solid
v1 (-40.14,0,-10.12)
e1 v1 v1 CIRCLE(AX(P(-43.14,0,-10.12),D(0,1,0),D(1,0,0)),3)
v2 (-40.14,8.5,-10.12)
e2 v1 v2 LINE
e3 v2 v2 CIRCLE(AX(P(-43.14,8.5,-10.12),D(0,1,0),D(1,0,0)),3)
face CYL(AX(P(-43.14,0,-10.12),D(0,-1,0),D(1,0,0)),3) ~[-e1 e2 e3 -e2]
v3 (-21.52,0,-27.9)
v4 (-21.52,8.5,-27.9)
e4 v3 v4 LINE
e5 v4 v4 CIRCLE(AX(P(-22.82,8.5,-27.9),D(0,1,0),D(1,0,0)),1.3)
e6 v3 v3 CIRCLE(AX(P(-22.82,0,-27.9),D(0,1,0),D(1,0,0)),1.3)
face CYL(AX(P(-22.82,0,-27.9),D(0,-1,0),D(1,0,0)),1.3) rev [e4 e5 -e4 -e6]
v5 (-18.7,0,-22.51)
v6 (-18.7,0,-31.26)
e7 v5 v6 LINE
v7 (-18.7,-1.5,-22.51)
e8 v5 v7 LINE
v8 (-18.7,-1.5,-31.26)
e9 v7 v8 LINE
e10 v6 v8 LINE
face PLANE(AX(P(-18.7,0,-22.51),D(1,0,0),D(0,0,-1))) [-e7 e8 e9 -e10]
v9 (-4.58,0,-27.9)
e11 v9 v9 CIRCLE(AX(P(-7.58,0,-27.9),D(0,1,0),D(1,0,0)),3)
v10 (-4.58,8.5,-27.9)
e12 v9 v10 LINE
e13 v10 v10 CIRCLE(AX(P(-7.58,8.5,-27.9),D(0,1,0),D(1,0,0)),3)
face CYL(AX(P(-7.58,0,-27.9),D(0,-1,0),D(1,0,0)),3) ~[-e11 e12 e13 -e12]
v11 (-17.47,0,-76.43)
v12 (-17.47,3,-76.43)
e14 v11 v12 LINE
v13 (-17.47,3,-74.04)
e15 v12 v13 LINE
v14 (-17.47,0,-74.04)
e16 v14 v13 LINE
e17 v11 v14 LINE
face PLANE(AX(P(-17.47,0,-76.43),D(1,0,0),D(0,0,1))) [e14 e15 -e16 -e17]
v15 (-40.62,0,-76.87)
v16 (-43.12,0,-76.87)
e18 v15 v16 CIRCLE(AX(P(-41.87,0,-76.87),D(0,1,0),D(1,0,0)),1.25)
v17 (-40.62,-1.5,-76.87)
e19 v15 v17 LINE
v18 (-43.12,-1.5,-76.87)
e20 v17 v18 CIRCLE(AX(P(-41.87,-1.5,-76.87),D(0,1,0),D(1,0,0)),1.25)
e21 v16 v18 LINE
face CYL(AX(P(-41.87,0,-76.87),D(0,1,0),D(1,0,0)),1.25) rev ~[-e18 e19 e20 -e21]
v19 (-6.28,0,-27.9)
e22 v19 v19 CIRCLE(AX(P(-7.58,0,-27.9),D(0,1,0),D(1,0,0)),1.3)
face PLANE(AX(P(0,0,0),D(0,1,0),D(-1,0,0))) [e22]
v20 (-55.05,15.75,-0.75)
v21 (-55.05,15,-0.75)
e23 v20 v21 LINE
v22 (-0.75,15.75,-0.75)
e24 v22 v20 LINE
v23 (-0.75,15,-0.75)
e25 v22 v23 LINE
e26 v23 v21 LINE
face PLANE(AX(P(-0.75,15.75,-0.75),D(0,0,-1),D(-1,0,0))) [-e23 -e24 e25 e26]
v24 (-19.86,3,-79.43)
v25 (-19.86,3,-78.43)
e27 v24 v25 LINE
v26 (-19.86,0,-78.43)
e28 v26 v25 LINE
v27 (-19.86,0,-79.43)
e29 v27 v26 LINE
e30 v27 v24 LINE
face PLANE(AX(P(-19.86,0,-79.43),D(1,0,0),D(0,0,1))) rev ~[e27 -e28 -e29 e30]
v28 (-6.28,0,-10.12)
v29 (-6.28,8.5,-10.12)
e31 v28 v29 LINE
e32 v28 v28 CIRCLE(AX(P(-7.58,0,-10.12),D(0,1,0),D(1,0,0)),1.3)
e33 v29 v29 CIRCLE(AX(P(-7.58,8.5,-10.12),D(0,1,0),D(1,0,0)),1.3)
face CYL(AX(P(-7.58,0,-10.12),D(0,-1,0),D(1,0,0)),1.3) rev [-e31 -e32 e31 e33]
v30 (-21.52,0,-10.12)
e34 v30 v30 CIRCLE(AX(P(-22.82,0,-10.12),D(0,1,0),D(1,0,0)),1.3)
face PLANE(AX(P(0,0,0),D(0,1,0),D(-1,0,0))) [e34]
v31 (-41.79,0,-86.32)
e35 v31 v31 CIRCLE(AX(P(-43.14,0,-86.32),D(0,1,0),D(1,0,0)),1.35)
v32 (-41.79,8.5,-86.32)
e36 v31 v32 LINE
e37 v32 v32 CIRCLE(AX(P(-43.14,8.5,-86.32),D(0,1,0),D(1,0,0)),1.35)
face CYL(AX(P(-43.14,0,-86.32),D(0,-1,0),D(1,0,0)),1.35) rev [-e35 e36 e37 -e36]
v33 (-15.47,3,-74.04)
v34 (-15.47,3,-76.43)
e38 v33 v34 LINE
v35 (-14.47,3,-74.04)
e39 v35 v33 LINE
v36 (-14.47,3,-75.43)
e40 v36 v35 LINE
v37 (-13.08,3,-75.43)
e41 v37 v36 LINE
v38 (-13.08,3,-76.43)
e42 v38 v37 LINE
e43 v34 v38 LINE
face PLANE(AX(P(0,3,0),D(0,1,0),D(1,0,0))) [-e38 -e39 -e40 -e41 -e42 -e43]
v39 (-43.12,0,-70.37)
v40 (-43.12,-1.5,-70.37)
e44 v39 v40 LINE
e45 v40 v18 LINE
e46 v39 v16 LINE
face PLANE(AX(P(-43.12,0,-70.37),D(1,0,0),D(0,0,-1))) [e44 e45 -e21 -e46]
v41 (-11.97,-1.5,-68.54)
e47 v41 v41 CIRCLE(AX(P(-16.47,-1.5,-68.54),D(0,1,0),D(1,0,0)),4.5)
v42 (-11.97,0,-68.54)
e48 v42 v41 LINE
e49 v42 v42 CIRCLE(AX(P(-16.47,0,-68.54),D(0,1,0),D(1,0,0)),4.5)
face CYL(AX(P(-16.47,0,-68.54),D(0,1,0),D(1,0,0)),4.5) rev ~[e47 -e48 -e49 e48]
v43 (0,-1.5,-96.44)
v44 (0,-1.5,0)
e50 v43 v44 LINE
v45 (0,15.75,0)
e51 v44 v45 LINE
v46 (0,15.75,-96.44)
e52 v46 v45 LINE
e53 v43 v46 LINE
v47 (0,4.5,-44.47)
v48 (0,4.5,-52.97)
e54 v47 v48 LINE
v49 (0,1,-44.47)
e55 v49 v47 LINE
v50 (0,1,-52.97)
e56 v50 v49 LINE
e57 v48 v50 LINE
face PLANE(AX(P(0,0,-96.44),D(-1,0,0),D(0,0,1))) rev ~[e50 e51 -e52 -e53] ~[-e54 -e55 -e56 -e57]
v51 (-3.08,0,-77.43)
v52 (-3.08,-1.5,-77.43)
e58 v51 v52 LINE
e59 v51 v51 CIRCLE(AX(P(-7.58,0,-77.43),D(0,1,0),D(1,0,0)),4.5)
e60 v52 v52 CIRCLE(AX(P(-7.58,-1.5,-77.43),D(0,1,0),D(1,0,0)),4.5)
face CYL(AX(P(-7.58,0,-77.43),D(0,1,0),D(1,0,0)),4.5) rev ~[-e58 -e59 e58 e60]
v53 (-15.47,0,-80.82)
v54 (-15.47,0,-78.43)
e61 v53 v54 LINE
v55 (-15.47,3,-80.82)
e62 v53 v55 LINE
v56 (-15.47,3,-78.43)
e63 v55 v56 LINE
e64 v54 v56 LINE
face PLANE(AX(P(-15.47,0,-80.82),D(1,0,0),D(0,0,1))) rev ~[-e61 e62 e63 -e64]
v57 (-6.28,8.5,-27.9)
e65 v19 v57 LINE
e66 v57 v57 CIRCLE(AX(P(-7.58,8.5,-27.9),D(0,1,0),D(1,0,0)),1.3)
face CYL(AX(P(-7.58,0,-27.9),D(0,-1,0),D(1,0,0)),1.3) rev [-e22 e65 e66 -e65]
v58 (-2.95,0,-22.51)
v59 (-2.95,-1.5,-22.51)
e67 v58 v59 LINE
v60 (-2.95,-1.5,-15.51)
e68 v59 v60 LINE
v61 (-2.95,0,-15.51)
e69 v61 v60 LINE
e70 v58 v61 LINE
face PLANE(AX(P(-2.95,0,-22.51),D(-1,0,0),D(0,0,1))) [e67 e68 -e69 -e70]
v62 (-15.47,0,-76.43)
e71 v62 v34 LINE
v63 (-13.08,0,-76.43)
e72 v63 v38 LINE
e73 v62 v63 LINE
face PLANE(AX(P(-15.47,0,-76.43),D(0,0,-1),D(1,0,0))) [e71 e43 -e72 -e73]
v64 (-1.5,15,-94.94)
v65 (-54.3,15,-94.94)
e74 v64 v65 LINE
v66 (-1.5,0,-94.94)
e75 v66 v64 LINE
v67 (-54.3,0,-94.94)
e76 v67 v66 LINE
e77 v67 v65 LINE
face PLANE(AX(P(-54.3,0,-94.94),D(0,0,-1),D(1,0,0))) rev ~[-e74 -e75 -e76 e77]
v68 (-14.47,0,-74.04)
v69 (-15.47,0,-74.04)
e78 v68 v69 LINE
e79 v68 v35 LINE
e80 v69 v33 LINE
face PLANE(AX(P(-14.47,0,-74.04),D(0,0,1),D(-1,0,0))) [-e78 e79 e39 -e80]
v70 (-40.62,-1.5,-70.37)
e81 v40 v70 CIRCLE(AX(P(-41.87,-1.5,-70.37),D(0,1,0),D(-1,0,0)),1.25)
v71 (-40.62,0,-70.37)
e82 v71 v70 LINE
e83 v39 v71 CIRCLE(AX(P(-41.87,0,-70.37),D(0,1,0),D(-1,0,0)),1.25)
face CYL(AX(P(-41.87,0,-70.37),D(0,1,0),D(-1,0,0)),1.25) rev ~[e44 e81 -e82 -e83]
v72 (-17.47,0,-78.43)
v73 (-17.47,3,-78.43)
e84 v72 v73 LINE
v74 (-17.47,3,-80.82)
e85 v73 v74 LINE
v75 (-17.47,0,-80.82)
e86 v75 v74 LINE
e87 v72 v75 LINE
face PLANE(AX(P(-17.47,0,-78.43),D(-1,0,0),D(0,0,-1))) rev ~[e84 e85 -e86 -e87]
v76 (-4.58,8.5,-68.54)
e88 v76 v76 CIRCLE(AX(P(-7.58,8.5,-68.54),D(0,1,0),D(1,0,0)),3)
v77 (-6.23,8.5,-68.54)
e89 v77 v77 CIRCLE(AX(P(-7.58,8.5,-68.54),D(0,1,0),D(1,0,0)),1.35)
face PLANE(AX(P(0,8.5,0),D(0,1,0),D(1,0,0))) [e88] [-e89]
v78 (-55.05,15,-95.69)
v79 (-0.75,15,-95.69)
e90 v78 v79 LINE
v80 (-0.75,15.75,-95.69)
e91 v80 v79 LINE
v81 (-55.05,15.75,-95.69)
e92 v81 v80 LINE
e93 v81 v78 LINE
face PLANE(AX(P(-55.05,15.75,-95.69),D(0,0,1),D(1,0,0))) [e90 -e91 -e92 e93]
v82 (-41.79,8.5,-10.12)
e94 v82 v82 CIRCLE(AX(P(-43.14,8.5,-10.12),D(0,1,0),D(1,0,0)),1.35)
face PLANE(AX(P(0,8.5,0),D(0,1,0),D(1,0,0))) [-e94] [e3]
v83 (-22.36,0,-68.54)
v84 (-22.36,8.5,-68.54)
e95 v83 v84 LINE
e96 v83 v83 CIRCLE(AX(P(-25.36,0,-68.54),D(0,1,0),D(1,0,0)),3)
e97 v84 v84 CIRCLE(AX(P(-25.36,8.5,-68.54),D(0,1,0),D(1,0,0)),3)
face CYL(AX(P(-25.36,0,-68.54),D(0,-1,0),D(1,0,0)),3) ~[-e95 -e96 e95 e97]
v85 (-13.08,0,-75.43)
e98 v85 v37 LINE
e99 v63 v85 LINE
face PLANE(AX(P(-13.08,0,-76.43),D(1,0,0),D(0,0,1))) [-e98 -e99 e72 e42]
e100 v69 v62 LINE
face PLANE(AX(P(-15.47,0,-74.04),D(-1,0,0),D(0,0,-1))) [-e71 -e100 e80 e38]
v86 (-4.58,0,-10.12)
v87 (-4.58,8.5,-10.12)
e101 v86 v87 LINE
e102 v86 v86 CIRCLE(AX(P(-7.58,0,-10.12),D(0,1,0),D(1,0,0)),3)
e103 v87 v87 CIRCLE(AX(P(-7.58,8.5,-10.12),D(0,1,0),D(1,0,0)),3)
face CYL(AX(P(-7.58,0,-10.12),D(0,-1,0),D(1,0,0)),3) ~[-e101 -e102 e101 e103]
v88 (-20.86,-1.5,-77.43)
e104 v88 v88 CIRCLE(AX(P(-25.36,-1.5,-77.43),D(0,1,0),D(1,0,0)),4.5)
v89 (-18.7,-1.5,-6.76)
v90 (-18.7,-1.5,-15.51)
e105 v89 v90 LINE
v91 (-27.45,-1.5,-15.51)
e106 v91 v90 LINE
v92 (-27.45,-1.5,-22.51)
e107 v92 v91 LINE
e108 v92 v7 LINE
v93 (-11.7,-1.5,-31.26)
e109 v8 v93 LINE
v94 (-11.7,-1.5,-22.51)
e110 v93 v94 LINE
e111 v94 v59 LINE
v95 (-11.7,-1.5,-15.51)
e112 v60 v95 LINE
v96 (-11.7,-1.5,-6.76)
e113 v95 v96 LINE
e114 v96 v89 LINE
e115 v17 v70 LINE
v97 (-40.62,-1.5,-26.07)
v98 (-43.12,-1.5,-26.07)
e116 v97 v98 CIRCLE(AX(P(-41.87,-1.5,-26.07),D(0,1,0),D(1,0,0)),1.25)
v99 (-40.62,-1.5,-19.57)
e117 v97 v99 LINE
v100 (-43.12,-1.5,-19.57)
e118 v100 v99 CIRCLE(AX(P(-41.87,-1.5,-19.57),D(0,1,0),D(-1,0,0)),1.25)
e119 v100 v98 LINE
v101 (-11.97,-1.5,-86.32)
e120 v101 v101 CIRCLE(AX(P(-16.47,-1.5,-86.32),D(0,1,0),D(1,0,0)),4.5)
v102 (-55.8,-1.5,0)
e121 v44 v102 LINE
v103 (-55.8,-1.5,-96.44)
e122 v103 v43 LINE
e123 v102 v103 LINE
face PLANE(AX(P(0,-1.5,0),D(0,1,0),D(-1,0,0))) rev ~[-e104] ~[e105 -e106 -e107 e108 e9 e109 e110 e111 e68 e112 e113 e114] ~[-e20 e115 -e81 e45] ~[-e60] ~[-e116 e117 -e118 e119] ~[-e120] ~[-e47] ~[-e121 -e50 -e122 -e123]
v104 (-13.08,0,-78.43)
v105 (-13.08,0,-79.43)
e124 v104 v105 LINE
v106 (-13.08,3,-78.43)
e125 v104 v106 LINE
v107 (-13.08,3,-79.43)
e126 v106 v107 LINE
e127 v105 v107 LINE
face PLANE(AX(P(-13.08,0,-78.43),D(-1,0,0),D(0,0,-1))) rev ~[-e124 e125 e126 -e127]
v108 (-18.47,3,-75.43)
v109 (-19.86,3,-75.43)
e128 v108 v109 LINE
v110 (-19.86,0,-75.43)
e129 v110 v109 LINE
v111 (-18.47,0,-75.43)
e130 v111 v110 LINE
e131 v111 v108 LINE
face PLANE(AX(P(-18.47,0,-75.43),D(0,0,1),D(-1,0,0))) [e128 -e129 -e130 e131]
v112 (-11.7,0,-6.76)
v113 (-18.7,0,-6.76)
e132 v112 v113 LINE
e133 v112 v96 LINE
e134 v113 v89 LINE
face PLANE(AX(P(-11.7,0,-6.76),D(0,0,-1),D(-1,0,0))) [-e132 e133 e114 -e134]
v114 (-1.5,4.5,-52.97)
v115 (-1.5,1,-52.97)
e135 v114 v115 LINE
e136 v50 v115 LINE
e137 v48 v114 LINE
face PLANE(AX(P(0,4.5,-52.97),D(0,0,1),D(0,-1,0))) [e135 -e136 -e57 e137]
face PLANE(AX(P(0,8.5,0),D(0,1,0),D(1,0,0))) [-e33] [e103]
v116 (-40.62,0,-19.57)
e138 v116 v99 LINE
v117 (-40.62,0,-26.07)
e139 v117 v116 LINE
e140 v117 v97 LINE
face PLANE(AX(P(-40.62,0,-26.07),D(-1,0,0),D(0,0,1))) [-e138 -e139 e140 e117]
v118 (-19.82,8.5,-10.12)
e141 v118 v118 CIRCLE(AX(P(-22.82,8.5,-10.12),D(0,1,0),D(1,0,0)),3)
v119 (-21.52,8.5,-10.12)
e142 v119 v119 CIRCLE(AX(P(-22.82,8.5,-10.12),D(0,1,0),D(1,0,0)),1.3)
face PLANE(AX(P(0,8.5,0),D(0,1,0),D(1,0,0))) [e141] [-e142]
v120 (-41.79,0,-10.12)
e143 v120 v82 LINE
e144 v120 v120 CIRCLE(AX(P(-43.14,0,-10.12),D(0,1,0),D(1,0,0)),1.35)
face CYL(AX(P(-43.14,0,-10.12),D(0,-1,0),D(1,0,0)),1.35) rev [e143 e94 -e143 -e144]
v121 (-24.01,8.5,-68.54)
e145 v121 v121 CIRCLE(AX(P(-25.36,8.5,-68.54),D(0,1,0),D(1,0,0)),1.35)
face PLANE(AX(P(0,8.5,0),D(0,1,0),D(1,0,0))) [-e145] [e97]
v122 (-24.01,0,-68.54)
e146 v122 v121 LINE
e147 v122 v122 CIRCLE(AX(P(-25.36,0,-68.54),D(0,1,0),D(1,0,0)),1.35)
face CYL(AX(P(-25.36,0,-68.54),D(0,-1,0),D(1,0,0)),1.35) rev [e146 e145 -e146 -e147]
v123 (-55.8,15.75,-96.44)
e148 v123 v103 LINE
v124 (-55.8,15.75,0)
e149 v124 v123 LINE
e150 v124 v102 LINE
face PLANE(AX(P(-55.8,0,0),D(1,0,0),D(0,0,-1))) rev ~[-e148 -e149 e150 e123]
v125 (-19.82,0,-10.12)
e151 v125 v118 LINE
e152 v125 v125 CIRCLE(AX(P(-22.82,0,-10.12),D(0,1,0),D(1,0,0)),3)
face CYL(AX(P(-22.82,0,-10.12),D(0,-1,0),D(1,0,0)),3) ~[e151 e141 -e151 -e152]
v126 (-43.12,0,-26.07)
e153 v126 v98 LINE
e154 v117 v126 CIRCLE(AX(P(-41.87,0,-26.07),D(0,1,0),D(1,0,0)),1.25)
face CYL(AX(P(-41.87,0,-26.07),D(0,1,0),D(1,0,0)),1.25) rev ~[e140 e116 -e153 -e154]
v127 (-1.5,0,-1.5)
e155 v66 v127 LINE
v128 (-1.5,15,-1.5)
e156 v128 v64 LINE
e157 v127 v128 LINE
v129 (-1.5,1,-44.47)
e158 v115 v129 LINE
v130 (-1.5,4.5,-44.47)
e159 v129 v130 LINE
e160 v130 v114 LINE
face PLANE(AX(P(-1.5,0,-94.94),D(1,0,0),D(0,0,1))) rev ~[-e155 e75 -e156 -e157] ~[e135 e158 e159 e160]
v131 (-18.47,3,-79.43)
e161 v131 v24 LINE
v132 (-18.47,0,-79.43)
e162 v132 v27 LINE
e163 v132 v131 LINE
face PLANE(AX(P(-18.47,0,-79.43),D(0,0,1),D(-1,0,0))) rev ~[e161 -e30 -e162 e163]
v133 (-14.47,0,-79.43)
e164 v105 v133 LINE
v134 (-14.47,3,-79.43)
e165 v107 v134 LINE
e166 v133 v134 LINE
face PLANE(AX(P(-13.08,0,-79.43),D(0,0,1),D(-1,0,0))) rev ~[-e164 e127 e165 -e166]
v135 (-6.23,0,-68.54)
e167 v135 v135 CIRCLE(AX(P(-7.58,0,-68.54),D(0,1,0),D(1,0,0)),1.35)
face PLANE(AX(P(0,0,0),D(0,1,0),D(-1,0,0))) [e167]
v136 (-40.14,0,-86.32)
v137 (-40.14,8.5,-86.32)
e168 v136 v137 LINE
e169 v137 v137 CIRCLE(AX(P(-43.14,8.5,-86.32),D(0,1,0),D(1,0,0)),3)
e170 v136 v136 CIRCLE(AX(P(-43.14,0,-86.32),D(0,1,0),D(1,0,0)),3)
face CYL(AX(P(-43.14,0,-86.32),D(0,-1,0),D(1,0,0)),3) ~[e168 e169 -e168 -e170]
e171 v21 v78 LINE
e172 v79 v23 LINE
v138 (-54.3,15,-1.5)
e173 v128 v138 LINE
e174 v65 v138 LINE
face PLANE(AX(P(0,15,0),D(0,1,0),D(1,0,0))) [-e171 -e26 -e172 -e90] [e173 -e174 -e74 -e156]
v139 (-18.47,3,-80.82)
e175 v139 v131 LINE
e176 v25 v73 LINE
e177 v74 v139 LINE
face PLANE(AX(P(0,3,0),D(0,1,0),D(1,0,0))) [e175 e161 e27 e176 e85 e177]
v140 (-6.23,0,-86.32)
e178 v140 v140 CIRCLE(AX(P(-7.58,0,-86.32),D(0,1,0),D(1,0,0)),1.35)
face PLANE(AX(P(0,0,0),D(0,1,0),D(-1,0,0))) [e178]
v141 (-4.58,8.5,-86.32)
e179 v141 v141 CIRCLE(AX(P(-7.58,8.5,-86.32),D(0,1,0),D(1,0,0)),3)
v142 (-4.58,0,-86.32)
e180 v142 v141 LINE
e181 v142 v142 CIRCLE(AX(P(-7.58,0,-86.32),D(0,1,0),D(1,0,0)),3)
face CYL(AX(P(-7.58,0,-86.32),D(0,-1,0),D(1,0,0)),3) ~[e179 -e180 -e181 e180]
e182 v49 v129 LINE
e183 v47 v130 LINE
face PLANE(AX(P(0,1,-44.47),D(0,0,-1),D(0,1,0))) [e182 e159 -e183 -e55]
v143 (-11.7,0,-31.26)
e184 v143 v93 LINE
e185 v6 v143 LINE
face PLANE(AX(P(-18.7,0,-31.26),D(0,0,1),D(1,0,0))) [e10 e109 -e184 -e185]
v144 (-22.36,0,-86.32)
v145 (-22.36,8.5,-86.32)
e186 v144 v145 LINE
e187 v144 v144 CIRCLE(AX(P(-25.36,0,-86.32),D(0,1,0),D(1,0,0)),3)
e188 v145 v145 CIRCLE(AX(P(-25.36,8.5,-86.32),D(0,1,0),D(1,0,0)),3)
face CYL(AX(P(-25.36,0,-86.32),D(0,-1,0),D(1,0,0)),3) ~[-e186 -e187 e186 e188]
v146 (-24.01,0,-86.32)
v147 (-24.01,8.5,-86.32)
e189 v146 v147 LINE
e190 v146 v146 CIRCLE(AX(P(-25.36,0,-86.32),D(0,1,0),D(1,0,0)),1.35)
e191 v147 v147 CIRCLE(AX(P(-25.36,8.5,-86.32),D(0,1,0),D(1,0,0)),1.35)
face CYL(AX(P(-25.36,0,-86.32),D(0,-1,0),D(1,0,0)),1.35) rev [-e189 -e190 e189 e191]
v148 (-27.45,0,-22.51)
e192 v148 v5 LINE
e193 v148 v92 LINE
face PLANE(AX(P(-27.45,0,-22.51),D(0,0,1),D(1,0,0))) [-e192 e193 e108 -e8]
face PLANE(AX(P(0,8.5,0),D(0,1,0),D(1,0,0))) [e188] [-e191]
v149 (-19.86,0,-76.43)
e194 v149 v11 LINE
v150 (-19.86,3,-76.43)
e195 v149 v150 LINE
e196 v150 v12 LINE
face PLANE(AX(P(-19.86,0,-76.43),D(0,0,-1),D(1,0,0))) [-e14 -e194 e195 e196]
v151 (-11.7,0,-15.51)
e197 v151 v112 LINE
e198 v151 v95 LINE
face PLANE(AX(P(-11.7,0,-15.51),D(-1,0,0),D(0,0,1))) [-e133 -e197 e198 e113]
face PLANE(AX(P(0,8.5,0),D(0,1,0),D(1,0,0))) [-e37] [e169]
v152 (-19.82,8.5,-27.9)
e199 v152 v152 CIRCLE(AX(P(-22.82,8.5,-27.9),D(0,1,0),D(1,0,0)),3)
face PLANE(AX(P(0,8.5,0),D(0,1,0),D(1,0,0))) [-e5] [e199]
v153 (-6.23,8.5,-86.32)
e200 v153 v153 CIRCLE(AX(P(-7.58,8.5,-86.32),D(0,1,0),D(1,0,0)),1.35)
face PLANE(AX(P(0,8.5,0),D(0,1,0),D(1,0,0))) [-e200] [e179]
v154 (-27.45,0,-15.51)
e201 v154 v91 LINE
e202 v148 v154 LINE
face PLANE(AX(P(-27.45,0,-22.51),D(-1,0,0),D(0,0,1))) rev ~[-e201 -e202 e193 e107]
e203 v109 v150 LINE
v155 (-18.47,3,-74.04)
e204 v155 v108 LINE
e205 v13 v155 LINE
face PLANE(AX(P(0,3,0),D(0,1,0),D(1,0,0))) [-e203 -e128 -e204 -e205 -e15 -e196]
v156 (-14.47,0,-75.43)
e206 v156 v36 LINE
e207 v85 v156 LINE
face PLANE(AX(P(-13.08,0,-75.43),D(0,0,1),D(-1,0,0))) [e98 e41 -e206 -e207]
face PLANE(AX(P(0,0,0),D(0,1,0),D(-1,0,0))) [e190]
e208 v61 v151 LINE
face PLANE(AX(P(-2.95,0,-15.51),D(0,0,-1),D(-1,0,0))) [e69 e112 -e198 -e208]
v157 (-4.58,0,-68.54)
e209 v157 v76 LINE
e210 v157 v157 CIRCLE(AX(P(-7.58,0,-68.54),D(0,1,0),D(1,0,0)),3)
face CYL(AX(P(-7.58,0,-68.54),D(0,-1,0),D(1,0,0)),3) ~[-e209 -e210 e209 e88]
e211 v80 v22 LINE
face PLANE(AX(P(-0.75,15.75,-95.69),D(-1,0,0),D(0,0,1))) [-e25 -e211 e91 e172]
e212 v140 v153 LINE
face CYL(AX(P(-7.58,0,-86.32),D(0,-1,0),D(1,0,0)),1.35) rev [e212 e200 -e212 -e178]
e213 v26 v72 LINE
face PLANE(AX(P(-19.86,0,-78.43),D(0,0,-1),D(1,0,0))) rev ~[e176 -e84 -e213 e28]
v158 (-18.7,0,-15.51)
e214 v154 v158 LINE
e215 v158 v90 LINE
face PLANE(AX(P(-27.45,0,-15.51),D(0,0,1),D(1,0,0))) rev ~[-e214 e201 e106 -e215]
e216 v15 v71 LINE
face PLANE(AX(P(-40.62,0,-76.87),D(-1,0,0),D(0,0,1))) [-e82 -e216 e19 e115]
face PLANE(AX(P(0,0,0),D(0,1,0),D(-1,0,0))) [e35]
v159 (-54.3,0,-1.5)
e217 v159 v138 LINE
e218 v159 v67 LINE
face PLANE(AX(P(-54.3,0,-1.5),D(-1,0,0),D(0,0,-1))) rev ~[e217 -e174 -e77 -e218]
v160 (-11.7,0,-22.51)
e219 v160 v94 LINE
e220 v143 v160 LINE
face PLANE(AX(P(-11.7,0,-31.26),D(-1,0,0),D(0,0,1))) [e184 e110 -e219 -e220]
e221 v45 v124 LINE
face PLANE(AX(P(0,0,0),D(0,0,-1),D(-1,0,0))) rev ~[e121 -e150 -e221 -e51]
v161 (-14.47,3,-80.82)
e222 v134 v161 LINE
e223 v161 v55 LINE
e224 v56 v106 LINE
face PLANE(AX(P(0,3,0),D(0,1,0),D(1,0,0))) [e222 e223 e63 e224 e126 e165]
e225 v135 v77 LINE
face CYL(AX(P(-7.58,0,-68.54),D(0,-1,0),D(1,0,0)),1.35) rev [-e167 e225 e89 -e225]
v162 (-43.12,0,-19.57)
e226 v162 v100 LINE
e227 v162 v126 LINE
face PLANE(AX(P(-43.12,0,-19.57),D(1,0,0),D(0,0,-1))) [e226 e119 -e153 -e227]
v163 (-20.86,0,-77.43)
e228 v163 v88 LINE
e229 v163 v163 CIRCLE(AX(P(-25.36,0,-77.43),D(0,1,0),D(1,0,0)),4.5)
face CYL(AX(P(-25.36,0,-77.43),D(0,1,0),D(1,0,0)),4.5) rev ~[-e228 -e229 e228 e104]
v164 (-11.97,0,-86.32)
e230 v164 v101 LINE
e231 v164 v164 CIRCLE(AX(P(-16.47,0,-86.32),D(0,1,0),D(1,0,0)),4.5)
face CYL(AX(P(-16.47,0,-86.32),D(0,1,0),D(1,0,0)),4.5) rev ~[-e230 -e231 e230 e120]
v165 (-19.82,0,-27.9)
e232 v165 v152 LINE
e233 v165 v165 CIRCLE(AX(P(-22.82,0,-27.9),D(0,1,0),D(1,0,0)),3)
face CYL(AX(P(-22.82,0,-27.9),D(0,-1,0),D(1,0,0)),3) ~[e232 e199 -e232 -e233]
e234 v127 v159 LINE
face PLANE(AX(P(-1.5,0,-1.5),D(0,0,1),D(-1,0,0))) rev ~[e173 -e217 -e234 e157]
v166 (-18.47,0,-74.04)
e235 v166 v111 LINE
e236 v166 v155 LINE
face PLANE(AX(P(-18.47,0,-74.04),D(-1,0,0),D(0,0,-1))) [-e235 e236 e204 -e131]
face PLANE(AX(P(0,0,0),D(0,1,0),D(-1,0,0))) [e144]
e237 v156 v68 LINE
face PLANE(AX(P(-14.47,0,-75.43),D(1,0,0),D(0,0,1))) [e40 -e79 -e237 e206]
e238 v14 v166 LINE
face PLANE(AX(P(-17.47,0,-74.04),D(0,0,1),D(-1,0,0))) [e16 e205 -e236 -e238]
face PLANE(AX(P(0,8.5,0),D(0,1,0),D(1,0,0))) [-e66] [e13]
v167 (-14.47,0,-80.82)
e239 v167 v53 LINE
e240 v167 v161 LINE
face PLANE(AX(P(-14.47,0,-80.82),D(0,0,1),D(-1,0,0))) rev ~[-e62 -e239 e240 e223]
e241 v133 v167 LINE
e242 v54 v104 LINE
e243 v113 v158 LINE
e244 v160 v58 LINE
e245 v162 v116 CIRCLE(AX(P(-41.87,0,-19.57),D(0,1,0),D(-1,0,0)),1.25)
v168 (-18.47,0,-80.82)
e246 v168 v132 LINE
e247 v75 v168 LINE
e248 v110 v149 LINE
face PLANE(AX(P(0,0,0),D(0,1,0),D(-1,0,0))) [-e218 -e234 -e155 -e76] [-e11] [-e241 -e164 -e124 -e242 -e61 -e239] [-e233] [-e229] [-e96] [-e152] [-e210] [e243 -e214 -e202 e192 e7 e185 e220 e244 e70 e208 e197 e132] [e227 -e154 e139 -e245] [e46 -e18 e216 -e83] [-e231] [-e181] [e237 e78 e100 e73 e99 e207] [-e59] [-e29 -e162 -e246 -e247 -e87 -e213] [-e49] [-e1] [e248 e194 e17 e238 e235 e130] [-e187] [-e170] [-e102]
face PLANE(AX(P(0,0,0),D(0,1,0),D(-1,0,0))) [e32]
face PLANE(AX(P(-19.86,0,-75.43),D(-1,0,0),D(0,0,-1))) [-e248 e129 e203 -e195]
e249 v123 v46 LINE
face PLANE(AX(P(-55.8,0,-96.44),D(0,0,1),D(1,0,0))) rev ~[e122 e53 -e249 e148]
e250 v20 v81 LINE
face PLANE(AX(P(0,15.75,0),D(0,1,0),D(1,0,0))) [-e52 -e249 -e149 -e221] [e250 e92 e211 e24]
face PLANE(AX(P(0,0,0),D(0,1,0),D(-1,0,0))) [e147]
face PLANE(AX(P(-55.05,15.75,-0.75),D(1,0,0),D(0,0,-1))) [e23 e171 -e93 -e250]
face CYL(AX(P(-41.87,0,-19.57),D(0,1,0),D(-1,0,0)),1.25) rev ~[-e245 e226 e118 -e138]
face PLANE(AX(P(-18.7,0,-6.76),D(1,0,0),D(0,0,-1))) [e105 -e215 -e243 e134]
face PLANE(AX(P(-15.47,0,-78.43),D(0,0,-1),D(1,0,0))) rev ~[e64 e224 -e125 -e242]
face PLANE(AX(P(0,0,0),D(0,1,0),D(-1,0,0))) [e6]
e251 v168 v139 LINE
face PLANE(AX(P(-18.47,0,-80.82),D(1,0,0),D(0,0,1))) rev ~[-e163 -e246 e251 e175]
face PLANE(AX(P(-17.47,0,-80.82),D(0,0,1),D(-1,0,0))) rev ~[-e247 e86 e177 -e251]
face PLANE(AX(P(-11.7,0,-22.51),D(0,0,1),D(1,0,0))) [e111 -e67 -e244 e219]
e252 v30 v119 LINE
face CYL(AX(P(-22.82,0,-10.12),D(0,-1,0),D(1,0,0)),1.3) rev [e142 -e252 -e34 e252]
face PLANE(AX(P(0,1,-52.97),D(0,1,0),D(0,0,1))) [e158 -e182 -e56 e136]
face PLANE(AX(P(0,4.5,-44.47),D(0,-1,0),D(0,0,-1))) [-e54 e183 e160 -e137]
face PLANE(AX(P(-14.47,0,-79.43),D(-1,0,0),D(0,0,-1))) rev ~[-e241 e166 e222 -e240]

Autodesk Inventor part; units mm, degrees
ref_plane "YZ Plane" through (0, 0, 0) normal (1, 0, 0) x (0, 1, 0)
ref_plane "XZ Plane" through (0, 0, 0) normal (0, 1, 0) x (-1, 0, 0)
ref_plane "XY Plane" through (0, 0, 0) normal (0, 0, 1) x (1, 0, 0)
sketch "Skizze1" plane through (0, 0, 0) normal (0, 1, 0) x (-1, 0, 0)
  line L0 (0, 0) -> (55.8, 0)
  line L1 (55.8, 0) -> (55.8, -96.44)
  line L2 (55.8, -96.44) -> (0, -96.44)
  line L3 (0, -96.44) -> (0, 0)
  dimension "d0" = 96.44
  dimension "d1" = 55.8
extrude "Extrusion1" add sketch "Skizze1" against normal blind 1.5
sketch "Skizze2" plane through (0, 0, 0) normal (0, 1, 0) x (1, 0, 0)
  line L0 (0, 0) -> (-55.8, 0) projected
  line L1 (-55.8, 0) -> (-55.8, 96.44) projected
  line L2 (0, 0) -> (-55.8, 0)
  line L3 (-55.8, 0) -> (-55.8, 96.44)
  line L4 (-55.8, 96.44) -> (0, 96.44)
  line L5 (0, 96.44) -> (0, 0)
  line L6 (-1.5, 1.5) -> (-54.3, 1.5)
  line L7 (-54.3, 1.5) -> (-54.3, 94.94)
  line L8 (-54.3, 94.94) -> (-1.5, 94.94)
  line L9 (-1.5, 94.94) -> (-1.5, 1.5)
  dimension "d4" = 1.5
extrude "Extrusion2" add sketch "Skizze2" along normal blind 15.75
sketch "Skizze4" plane through (0, 0, 0) normal (0, 1, 0) x (1, 0, 0)
  circle A0 centre (-22.82, 10.12) radius 3
  circle A1 centre (-22.82, 27.9) radius 3
  circle A2 centre (-7.58, 27.9) radius 3
  circle A3 centre (-7.58, 10.12) radius 3
  line L0 (-18.7, 6.76) -> (-18.7, 15.51)
  line L1 (-27.45, 22.51) -> (-18.7, 22.51)
  line L2 (-11.7, 15.51) -> (-11.7, 6.76)
  line L3 (-11.7, 31.26) -> (-11.7, 22.51)
  circle A4 centre (-22.82, 10.12) radius 1.3
  circle A5 centre (-22.82, 27.9) radius 1.3
  circle A6 centre (-7.58, 27.9) radius 1.3
  circle A7 centre (-7.58, 10.12) radius 1.3
  line L4 (-1.5, 1.5) -> (-54.3, 1.5) projected
  line L5 (-27.45, 22.51) -> (-27.45, 15.51)
  line L6 (-27.45, 15.51) -> (-18.7, 15.51)
  line L7 (-11.7, 22.51) -> (-2.95, 22.51)
  line L8 (-2.95, 22.51) -> (-2.95, 15.51)
  line L9 (-2.95, 15.51) -> (-11.7, 15.51)
  line L10 (-11.7, 6.76) -> (-18.7, 6.76)
  line L11 (-18.7, 22.51) -> (-18.7, 31.26)
  line L12 (-18.7, 31.26) -> (-11.7, 31.26)
  line L13 (-54.3, 1.5) -> (-54.3, 94.94) projected
  line L14 (-1.5, 94.94) -> (-1.5, 1.5) projected
  point P0 (0, 0)
  dimension "d13" = 4.12
  dimension "d15" = 4.12
  dimension "d16" = 4.12
  dimension "d17" = 6
  dimension "d18" = 6
  dimension "d19" = 6
  dimension "d20" = 6
  dimension "d21" = 2.6
  dimension "d22" = 2.6
  dimension "d23" = 2.6
  dimension "d24" = 2.6
  dimension "d25" = 17.78
  dimension "d29" = 17.78
  dimension "d30" = 15.24
  dimension "d31" = 15.24
  dimension "d32" = 4.12
  dimension "d33" = 7
  dimension "d34" = 7
  dimension "d35" = 7
  dimension "d36" = 7
  dimension "d37" = 8.75
  dimension "d38" = 8.75
  dimension "d39" = 8.75
  dimension "d40" = 8.75
  dimension "d41" = 8.75
  dimension "d42" = 8.75
  dimension "d43" = 8.75
  dimension "d44" = 8.75
  dimension "d45" = 5.39
  dimension "d46" = 8.62
  dimension "d48" = 5.39
  dimension "d147" = 6.08
extrude "Extrusion3" cut sketch "Skizze4" against normal blind 15 contours L0 L6 L5 L1 L11 L12 L3 L7 L8 L9 L2 L10
extrude "Extrusion4" add sketch "Skizze4" along normal blind 8.5 contours A0 | A1 | A2 | A3
sketch "Skizze5" plane through (0, 0, 0) normal (0, 1, 0) x (1, 0, 0)
  line L0 (-54.3, 1.5) -> (-54.3, 94.94) projected
  line L1 (-54.3, 94.94) -> (-1.5, 94.94) projected
  circle A0 centre (-25.36, 77.43) radius 4.5
  circle A1 centre (-7.58, 77.43) radius 4.5
  circle A2 centre (-16.47, 86.32) radius 4.5
  circle A3 centre (-16.47, 68.54) radius 4.5
  circle A4 centre (-25.36, 68.54) radius 3
  circle A5 centre (-25.36, 68.54) radius 1.35
  circle A6 centre (-25.36, 86.32) radius 3
  circle A7 centre (-25.36, 86.32) radius 1.35
  circle A8 centre (-7.58, 86.32) radius 3
  circle A9 centre (-7.58, 86.32) radius 1.35
  circle A10 centre (-7.58, 68.54) radius 3
  circle A11 centre (-7.58, 68.54) radius 1.35
  line L2 (-18.47, 74.04) -> (-18.47, 75.43)
  line L3 (-18.47, 75.43) -> (-19.86, 75.43)
  line L4 (-19.86, 75.43) -> (-19.86, 76.43)
  line L5 (-19.86, 76.43) -> (-17.47, 76.43)
  line L6 (-17.47, 76.43) -> (-17.47, 74.04)
  line L7 (-17.47, 74.04) -> (-18.47, 74.04)
  line L8 (-15.47, 74.04) -> (-15.47, 76.43)
  line L9 (-15.47, 76.43) -> (-13.08, 76.43)
  line L10 (-13.08, 76.43) -> (-13.08, 75.43)
  line L11 (-13.08, 75.43) -> (-14.47, 75.43)
  line L12 (-14.47, 75.43) -> (-14.47, 74.04)
  line L13 (-14.47, 74.04) -> (-15.47, 74.04)
  line L14 (-17.47, 78.43) -> (-17.47, 80.82)
  line L15 (-17.47, 80.82) -> (-18.47, 80.82)
  line L16 (-18.47, 80.82) -> (-18.47, 79.43)
  line L17 (-18.47, 79.43) -> (-19.86, 79.43)
  line L18 (-19.86, 79.43) -> (-19.86, 78.43)
  line L19 (-19.86, 78.43) -> (-17.47, 78.43)
  line L20 (-15.47, 78.43) -> (-13.08, 78.43)
  line L21 (-13.08, 78.43) -> (-13.08, 79.43)
  line L22 (-13.08, 79.43) -> (-14.47, 79.43)
  line L23 (-14.47, 79.43) -> (-14.47, 80.82)
  line L24 (-14.47, 80.82) -> (-15.47, 80.82)
  line L25 (-15.47, 80.82) -> (-15.47, 78.43)
  line L26 (-1.5, 94.94) -> (-1.5, 1.5) projected
  point P0 (0, 0)
  dimension "d92" = 9
  dimension "d93" = 9
  dimension "d94" = 9
  dimension "d95" = 9
  dimension "d96" = 8.62
  dimension "d98" = 8.89
  dimension "d99" = 8.89
  dimension "d100" = 8.89
  dimension "d101" = 8.89
  dimension "d102" = 6
  dimension "d103" = 2.7
  dimension "d104" = 6
  dimension "d105" = 2.7
  dimension "d106" = 6
  dimension "d107" = 2.7
  dimension "d108" = 6
  dimension "d109" = 2.7
  dimension "d110" = 8.89
  dimension "d115" = 2
  dimension "d116" = 1
  dimension "d117" = 1
  dimension "d118" = 1
  dimension "d121" = 1
  dimension "d129" = 1
  dimension "d130" = 1
  dimension "d131" = 1
  dimension "d134" = 5.5
  dimension "d135" = 5.5
  dimension "d136" = 5.5
  dimension "d137" = 5.5
  dimension "d138" = 2
  dimension "d139" = 2
  dimension "d140" = 2.39
  dimension "d141" = 2.39
  dimension "d142" = 2.39
  dimension "d143" = 1
  dimension "d144" = 2.39
  dimension "d148" = 6.08
extrude "Extrusion5" cut sketch "Skizze5" against normal blind 15 contours A0 | A1 | A2 | A3
extrude "Extrusion6" add sketch "Skizze5" along normal blind 8.5 contours A4 | A6 | A8 | A10
extrude "Extrusion7" add sketch "Skizze5" along normal blind 3 contours L2 L3 L4 L5 L6 L7 | L8 L9 L10 L11 L12 L13 | L19 L18 L17 L16 L15 L14 | L25 L24 L23 L22 L21 L20
sketch "Skizze6" plane through (0, 0, 0) normal (0, 1, 0) x (1, 0, 0)
  line L0 (-43.12, 19.57) -> (-43.12, 26.07)
  line L1 (-40.62, 26.07) -> (-40.62, 19.57)
  arc A0 (-43.12, 19.57) -> (-40.62, 19.57) centre (-41.87, 19.57) ccw
  arc A1 (-40.62, 26.07) -> (-43.12, 26.07) centre (-41.87, 26.07) ccw
  circle A2 centre (-22.82, 27.9) radius 1.3 projected
  line L2 (-43.12, 70.37) -> (-43.12, 76.87)
  line L3 (-40.62, 76.87) -> (-40.62, 70.37)
  arc A3 (-43.12, 70.37) -> (-40.62, 70.37) centre (-41.87, 70.37) ccw
  arc A4 (-40.62, 76.87) -> (-43.12, 76.87) centre (-41.87, 76.87) ccw
  circle A5 centre (-25.36, 86.32) radius 1.35 projected
  circle A6 centre (-25.36, 68.54) radius 1.35 projected
  point P0 (0, 0)
  dimension "d149" = 6.5
  dimension "d150" = 2.5
  dimension "d151" = 19.05
  dimension "d152" = 1.83
  dimension "d153" = 6.5
  dimension "d154" = 2.5
  dimension "d156" = 16.51
  dimension "d157" = 1.83
extrude "Extrusion8" cut sketch "Skizze6" against normal blind 3 contours L0 A1 L1 A0 | L2 A4 L3 A3
sketch "Skizze7" plane through (0, 0, 0) normal (0, 1, 0) x (1, 0, 0)
  circle A0 centre (-43.14, 86.32) radius 3
  circle A1 centre (-43.14, 10.12) radius 3
  circle A2 centre (-43.14, 86.32) radius 1.35
  circle A3 centre (-43.14, 10.12) radius 1.35
  line L0 (-1.5, 1.5) -> (-54.3, 1.5) projected
  line L1 (-1.5, 94.94) -> (-1.5, 1.5) projected
  circle A4 centre (-25.36, 86.32) radius 1.35 projected
  circle A5 centre (-22.82, 10.12) radius 1.3 projected
  point P0 (0, 0)
  dimension "d160" = 6
  dimension "d161" = 6
  dimension "d162" = 2.7
  dimension "d163" = 2.7
  dimension "d167" = 0
  dimension "d168" = 0
  dimension "d169" = 17.78
  dimension "d170" = 20.32
extrude "Extrusion9" add sketch "Skizze7" along normal blind 8.5 contours A0 | A1
sketch "Skizze9" plane through (0, -1.5, 0) normal (1, 0, 0) x (0, 0, -1)
  line L0 (44.47, 6) -> (52.97, 6)
  line L1 (52.97, 6) -> (52.97, 2.5)
  line L2 (52.97, 2.5) -> (44.47, 2.5)
  line L3 (44.47, 2.5) -> (44.47, 6)
  line L4 (1.5, 1.5) -> (94.94, 1.5) projected
  line L5 (0, 0) -> (0, 17.25) projected
  point P0 (0, 1.5)
  dimension "d173" = 4.5
  dimension "d174" = 1
  dimension "d175" = 8.5
  dimension "d177" = 44.47
extrude "Extrusion10" cut sketch "Skizze9" against normal blind 8.5
sketch "Skizze14" plane through (0, 15.75, 0) normal (0, 1, 0) x (1, 0, 0)
  line L0 (-1.5, 1.5) -> (-54.3, 1.5) projected
  line L1 (-1.5, 1.5) -> (-1.5, 94.94) projected
  line L2 (-54.3, 1.5) -> (-1.5, 1.5)
  line L3 (-1.5, 1.5) -> (-1.5, 94.94)
  line L4 (-1.5, 94.94) -> (-54.3, 94.94)
  line L5 (-54.3, 94.94) -> (-54.3, 1.5)
  line L6 (-55.05, 95.69) -> (-0.75, 95.69)
  line L7 (-0.75, 95.69) -> (-0.75, 0.75)
  line L8 (-0.75, 0.75) -> (-55.05, 0.75)
  line L9 (-55.05, 0.75) -> (-55.05, 95.69)
  point P0 (0, 0)
  dimension "d180" = 0.75
extrude "Extrusion11" cut sketch "Skizze14" against normal blind 0.75
properties part number "Front"
